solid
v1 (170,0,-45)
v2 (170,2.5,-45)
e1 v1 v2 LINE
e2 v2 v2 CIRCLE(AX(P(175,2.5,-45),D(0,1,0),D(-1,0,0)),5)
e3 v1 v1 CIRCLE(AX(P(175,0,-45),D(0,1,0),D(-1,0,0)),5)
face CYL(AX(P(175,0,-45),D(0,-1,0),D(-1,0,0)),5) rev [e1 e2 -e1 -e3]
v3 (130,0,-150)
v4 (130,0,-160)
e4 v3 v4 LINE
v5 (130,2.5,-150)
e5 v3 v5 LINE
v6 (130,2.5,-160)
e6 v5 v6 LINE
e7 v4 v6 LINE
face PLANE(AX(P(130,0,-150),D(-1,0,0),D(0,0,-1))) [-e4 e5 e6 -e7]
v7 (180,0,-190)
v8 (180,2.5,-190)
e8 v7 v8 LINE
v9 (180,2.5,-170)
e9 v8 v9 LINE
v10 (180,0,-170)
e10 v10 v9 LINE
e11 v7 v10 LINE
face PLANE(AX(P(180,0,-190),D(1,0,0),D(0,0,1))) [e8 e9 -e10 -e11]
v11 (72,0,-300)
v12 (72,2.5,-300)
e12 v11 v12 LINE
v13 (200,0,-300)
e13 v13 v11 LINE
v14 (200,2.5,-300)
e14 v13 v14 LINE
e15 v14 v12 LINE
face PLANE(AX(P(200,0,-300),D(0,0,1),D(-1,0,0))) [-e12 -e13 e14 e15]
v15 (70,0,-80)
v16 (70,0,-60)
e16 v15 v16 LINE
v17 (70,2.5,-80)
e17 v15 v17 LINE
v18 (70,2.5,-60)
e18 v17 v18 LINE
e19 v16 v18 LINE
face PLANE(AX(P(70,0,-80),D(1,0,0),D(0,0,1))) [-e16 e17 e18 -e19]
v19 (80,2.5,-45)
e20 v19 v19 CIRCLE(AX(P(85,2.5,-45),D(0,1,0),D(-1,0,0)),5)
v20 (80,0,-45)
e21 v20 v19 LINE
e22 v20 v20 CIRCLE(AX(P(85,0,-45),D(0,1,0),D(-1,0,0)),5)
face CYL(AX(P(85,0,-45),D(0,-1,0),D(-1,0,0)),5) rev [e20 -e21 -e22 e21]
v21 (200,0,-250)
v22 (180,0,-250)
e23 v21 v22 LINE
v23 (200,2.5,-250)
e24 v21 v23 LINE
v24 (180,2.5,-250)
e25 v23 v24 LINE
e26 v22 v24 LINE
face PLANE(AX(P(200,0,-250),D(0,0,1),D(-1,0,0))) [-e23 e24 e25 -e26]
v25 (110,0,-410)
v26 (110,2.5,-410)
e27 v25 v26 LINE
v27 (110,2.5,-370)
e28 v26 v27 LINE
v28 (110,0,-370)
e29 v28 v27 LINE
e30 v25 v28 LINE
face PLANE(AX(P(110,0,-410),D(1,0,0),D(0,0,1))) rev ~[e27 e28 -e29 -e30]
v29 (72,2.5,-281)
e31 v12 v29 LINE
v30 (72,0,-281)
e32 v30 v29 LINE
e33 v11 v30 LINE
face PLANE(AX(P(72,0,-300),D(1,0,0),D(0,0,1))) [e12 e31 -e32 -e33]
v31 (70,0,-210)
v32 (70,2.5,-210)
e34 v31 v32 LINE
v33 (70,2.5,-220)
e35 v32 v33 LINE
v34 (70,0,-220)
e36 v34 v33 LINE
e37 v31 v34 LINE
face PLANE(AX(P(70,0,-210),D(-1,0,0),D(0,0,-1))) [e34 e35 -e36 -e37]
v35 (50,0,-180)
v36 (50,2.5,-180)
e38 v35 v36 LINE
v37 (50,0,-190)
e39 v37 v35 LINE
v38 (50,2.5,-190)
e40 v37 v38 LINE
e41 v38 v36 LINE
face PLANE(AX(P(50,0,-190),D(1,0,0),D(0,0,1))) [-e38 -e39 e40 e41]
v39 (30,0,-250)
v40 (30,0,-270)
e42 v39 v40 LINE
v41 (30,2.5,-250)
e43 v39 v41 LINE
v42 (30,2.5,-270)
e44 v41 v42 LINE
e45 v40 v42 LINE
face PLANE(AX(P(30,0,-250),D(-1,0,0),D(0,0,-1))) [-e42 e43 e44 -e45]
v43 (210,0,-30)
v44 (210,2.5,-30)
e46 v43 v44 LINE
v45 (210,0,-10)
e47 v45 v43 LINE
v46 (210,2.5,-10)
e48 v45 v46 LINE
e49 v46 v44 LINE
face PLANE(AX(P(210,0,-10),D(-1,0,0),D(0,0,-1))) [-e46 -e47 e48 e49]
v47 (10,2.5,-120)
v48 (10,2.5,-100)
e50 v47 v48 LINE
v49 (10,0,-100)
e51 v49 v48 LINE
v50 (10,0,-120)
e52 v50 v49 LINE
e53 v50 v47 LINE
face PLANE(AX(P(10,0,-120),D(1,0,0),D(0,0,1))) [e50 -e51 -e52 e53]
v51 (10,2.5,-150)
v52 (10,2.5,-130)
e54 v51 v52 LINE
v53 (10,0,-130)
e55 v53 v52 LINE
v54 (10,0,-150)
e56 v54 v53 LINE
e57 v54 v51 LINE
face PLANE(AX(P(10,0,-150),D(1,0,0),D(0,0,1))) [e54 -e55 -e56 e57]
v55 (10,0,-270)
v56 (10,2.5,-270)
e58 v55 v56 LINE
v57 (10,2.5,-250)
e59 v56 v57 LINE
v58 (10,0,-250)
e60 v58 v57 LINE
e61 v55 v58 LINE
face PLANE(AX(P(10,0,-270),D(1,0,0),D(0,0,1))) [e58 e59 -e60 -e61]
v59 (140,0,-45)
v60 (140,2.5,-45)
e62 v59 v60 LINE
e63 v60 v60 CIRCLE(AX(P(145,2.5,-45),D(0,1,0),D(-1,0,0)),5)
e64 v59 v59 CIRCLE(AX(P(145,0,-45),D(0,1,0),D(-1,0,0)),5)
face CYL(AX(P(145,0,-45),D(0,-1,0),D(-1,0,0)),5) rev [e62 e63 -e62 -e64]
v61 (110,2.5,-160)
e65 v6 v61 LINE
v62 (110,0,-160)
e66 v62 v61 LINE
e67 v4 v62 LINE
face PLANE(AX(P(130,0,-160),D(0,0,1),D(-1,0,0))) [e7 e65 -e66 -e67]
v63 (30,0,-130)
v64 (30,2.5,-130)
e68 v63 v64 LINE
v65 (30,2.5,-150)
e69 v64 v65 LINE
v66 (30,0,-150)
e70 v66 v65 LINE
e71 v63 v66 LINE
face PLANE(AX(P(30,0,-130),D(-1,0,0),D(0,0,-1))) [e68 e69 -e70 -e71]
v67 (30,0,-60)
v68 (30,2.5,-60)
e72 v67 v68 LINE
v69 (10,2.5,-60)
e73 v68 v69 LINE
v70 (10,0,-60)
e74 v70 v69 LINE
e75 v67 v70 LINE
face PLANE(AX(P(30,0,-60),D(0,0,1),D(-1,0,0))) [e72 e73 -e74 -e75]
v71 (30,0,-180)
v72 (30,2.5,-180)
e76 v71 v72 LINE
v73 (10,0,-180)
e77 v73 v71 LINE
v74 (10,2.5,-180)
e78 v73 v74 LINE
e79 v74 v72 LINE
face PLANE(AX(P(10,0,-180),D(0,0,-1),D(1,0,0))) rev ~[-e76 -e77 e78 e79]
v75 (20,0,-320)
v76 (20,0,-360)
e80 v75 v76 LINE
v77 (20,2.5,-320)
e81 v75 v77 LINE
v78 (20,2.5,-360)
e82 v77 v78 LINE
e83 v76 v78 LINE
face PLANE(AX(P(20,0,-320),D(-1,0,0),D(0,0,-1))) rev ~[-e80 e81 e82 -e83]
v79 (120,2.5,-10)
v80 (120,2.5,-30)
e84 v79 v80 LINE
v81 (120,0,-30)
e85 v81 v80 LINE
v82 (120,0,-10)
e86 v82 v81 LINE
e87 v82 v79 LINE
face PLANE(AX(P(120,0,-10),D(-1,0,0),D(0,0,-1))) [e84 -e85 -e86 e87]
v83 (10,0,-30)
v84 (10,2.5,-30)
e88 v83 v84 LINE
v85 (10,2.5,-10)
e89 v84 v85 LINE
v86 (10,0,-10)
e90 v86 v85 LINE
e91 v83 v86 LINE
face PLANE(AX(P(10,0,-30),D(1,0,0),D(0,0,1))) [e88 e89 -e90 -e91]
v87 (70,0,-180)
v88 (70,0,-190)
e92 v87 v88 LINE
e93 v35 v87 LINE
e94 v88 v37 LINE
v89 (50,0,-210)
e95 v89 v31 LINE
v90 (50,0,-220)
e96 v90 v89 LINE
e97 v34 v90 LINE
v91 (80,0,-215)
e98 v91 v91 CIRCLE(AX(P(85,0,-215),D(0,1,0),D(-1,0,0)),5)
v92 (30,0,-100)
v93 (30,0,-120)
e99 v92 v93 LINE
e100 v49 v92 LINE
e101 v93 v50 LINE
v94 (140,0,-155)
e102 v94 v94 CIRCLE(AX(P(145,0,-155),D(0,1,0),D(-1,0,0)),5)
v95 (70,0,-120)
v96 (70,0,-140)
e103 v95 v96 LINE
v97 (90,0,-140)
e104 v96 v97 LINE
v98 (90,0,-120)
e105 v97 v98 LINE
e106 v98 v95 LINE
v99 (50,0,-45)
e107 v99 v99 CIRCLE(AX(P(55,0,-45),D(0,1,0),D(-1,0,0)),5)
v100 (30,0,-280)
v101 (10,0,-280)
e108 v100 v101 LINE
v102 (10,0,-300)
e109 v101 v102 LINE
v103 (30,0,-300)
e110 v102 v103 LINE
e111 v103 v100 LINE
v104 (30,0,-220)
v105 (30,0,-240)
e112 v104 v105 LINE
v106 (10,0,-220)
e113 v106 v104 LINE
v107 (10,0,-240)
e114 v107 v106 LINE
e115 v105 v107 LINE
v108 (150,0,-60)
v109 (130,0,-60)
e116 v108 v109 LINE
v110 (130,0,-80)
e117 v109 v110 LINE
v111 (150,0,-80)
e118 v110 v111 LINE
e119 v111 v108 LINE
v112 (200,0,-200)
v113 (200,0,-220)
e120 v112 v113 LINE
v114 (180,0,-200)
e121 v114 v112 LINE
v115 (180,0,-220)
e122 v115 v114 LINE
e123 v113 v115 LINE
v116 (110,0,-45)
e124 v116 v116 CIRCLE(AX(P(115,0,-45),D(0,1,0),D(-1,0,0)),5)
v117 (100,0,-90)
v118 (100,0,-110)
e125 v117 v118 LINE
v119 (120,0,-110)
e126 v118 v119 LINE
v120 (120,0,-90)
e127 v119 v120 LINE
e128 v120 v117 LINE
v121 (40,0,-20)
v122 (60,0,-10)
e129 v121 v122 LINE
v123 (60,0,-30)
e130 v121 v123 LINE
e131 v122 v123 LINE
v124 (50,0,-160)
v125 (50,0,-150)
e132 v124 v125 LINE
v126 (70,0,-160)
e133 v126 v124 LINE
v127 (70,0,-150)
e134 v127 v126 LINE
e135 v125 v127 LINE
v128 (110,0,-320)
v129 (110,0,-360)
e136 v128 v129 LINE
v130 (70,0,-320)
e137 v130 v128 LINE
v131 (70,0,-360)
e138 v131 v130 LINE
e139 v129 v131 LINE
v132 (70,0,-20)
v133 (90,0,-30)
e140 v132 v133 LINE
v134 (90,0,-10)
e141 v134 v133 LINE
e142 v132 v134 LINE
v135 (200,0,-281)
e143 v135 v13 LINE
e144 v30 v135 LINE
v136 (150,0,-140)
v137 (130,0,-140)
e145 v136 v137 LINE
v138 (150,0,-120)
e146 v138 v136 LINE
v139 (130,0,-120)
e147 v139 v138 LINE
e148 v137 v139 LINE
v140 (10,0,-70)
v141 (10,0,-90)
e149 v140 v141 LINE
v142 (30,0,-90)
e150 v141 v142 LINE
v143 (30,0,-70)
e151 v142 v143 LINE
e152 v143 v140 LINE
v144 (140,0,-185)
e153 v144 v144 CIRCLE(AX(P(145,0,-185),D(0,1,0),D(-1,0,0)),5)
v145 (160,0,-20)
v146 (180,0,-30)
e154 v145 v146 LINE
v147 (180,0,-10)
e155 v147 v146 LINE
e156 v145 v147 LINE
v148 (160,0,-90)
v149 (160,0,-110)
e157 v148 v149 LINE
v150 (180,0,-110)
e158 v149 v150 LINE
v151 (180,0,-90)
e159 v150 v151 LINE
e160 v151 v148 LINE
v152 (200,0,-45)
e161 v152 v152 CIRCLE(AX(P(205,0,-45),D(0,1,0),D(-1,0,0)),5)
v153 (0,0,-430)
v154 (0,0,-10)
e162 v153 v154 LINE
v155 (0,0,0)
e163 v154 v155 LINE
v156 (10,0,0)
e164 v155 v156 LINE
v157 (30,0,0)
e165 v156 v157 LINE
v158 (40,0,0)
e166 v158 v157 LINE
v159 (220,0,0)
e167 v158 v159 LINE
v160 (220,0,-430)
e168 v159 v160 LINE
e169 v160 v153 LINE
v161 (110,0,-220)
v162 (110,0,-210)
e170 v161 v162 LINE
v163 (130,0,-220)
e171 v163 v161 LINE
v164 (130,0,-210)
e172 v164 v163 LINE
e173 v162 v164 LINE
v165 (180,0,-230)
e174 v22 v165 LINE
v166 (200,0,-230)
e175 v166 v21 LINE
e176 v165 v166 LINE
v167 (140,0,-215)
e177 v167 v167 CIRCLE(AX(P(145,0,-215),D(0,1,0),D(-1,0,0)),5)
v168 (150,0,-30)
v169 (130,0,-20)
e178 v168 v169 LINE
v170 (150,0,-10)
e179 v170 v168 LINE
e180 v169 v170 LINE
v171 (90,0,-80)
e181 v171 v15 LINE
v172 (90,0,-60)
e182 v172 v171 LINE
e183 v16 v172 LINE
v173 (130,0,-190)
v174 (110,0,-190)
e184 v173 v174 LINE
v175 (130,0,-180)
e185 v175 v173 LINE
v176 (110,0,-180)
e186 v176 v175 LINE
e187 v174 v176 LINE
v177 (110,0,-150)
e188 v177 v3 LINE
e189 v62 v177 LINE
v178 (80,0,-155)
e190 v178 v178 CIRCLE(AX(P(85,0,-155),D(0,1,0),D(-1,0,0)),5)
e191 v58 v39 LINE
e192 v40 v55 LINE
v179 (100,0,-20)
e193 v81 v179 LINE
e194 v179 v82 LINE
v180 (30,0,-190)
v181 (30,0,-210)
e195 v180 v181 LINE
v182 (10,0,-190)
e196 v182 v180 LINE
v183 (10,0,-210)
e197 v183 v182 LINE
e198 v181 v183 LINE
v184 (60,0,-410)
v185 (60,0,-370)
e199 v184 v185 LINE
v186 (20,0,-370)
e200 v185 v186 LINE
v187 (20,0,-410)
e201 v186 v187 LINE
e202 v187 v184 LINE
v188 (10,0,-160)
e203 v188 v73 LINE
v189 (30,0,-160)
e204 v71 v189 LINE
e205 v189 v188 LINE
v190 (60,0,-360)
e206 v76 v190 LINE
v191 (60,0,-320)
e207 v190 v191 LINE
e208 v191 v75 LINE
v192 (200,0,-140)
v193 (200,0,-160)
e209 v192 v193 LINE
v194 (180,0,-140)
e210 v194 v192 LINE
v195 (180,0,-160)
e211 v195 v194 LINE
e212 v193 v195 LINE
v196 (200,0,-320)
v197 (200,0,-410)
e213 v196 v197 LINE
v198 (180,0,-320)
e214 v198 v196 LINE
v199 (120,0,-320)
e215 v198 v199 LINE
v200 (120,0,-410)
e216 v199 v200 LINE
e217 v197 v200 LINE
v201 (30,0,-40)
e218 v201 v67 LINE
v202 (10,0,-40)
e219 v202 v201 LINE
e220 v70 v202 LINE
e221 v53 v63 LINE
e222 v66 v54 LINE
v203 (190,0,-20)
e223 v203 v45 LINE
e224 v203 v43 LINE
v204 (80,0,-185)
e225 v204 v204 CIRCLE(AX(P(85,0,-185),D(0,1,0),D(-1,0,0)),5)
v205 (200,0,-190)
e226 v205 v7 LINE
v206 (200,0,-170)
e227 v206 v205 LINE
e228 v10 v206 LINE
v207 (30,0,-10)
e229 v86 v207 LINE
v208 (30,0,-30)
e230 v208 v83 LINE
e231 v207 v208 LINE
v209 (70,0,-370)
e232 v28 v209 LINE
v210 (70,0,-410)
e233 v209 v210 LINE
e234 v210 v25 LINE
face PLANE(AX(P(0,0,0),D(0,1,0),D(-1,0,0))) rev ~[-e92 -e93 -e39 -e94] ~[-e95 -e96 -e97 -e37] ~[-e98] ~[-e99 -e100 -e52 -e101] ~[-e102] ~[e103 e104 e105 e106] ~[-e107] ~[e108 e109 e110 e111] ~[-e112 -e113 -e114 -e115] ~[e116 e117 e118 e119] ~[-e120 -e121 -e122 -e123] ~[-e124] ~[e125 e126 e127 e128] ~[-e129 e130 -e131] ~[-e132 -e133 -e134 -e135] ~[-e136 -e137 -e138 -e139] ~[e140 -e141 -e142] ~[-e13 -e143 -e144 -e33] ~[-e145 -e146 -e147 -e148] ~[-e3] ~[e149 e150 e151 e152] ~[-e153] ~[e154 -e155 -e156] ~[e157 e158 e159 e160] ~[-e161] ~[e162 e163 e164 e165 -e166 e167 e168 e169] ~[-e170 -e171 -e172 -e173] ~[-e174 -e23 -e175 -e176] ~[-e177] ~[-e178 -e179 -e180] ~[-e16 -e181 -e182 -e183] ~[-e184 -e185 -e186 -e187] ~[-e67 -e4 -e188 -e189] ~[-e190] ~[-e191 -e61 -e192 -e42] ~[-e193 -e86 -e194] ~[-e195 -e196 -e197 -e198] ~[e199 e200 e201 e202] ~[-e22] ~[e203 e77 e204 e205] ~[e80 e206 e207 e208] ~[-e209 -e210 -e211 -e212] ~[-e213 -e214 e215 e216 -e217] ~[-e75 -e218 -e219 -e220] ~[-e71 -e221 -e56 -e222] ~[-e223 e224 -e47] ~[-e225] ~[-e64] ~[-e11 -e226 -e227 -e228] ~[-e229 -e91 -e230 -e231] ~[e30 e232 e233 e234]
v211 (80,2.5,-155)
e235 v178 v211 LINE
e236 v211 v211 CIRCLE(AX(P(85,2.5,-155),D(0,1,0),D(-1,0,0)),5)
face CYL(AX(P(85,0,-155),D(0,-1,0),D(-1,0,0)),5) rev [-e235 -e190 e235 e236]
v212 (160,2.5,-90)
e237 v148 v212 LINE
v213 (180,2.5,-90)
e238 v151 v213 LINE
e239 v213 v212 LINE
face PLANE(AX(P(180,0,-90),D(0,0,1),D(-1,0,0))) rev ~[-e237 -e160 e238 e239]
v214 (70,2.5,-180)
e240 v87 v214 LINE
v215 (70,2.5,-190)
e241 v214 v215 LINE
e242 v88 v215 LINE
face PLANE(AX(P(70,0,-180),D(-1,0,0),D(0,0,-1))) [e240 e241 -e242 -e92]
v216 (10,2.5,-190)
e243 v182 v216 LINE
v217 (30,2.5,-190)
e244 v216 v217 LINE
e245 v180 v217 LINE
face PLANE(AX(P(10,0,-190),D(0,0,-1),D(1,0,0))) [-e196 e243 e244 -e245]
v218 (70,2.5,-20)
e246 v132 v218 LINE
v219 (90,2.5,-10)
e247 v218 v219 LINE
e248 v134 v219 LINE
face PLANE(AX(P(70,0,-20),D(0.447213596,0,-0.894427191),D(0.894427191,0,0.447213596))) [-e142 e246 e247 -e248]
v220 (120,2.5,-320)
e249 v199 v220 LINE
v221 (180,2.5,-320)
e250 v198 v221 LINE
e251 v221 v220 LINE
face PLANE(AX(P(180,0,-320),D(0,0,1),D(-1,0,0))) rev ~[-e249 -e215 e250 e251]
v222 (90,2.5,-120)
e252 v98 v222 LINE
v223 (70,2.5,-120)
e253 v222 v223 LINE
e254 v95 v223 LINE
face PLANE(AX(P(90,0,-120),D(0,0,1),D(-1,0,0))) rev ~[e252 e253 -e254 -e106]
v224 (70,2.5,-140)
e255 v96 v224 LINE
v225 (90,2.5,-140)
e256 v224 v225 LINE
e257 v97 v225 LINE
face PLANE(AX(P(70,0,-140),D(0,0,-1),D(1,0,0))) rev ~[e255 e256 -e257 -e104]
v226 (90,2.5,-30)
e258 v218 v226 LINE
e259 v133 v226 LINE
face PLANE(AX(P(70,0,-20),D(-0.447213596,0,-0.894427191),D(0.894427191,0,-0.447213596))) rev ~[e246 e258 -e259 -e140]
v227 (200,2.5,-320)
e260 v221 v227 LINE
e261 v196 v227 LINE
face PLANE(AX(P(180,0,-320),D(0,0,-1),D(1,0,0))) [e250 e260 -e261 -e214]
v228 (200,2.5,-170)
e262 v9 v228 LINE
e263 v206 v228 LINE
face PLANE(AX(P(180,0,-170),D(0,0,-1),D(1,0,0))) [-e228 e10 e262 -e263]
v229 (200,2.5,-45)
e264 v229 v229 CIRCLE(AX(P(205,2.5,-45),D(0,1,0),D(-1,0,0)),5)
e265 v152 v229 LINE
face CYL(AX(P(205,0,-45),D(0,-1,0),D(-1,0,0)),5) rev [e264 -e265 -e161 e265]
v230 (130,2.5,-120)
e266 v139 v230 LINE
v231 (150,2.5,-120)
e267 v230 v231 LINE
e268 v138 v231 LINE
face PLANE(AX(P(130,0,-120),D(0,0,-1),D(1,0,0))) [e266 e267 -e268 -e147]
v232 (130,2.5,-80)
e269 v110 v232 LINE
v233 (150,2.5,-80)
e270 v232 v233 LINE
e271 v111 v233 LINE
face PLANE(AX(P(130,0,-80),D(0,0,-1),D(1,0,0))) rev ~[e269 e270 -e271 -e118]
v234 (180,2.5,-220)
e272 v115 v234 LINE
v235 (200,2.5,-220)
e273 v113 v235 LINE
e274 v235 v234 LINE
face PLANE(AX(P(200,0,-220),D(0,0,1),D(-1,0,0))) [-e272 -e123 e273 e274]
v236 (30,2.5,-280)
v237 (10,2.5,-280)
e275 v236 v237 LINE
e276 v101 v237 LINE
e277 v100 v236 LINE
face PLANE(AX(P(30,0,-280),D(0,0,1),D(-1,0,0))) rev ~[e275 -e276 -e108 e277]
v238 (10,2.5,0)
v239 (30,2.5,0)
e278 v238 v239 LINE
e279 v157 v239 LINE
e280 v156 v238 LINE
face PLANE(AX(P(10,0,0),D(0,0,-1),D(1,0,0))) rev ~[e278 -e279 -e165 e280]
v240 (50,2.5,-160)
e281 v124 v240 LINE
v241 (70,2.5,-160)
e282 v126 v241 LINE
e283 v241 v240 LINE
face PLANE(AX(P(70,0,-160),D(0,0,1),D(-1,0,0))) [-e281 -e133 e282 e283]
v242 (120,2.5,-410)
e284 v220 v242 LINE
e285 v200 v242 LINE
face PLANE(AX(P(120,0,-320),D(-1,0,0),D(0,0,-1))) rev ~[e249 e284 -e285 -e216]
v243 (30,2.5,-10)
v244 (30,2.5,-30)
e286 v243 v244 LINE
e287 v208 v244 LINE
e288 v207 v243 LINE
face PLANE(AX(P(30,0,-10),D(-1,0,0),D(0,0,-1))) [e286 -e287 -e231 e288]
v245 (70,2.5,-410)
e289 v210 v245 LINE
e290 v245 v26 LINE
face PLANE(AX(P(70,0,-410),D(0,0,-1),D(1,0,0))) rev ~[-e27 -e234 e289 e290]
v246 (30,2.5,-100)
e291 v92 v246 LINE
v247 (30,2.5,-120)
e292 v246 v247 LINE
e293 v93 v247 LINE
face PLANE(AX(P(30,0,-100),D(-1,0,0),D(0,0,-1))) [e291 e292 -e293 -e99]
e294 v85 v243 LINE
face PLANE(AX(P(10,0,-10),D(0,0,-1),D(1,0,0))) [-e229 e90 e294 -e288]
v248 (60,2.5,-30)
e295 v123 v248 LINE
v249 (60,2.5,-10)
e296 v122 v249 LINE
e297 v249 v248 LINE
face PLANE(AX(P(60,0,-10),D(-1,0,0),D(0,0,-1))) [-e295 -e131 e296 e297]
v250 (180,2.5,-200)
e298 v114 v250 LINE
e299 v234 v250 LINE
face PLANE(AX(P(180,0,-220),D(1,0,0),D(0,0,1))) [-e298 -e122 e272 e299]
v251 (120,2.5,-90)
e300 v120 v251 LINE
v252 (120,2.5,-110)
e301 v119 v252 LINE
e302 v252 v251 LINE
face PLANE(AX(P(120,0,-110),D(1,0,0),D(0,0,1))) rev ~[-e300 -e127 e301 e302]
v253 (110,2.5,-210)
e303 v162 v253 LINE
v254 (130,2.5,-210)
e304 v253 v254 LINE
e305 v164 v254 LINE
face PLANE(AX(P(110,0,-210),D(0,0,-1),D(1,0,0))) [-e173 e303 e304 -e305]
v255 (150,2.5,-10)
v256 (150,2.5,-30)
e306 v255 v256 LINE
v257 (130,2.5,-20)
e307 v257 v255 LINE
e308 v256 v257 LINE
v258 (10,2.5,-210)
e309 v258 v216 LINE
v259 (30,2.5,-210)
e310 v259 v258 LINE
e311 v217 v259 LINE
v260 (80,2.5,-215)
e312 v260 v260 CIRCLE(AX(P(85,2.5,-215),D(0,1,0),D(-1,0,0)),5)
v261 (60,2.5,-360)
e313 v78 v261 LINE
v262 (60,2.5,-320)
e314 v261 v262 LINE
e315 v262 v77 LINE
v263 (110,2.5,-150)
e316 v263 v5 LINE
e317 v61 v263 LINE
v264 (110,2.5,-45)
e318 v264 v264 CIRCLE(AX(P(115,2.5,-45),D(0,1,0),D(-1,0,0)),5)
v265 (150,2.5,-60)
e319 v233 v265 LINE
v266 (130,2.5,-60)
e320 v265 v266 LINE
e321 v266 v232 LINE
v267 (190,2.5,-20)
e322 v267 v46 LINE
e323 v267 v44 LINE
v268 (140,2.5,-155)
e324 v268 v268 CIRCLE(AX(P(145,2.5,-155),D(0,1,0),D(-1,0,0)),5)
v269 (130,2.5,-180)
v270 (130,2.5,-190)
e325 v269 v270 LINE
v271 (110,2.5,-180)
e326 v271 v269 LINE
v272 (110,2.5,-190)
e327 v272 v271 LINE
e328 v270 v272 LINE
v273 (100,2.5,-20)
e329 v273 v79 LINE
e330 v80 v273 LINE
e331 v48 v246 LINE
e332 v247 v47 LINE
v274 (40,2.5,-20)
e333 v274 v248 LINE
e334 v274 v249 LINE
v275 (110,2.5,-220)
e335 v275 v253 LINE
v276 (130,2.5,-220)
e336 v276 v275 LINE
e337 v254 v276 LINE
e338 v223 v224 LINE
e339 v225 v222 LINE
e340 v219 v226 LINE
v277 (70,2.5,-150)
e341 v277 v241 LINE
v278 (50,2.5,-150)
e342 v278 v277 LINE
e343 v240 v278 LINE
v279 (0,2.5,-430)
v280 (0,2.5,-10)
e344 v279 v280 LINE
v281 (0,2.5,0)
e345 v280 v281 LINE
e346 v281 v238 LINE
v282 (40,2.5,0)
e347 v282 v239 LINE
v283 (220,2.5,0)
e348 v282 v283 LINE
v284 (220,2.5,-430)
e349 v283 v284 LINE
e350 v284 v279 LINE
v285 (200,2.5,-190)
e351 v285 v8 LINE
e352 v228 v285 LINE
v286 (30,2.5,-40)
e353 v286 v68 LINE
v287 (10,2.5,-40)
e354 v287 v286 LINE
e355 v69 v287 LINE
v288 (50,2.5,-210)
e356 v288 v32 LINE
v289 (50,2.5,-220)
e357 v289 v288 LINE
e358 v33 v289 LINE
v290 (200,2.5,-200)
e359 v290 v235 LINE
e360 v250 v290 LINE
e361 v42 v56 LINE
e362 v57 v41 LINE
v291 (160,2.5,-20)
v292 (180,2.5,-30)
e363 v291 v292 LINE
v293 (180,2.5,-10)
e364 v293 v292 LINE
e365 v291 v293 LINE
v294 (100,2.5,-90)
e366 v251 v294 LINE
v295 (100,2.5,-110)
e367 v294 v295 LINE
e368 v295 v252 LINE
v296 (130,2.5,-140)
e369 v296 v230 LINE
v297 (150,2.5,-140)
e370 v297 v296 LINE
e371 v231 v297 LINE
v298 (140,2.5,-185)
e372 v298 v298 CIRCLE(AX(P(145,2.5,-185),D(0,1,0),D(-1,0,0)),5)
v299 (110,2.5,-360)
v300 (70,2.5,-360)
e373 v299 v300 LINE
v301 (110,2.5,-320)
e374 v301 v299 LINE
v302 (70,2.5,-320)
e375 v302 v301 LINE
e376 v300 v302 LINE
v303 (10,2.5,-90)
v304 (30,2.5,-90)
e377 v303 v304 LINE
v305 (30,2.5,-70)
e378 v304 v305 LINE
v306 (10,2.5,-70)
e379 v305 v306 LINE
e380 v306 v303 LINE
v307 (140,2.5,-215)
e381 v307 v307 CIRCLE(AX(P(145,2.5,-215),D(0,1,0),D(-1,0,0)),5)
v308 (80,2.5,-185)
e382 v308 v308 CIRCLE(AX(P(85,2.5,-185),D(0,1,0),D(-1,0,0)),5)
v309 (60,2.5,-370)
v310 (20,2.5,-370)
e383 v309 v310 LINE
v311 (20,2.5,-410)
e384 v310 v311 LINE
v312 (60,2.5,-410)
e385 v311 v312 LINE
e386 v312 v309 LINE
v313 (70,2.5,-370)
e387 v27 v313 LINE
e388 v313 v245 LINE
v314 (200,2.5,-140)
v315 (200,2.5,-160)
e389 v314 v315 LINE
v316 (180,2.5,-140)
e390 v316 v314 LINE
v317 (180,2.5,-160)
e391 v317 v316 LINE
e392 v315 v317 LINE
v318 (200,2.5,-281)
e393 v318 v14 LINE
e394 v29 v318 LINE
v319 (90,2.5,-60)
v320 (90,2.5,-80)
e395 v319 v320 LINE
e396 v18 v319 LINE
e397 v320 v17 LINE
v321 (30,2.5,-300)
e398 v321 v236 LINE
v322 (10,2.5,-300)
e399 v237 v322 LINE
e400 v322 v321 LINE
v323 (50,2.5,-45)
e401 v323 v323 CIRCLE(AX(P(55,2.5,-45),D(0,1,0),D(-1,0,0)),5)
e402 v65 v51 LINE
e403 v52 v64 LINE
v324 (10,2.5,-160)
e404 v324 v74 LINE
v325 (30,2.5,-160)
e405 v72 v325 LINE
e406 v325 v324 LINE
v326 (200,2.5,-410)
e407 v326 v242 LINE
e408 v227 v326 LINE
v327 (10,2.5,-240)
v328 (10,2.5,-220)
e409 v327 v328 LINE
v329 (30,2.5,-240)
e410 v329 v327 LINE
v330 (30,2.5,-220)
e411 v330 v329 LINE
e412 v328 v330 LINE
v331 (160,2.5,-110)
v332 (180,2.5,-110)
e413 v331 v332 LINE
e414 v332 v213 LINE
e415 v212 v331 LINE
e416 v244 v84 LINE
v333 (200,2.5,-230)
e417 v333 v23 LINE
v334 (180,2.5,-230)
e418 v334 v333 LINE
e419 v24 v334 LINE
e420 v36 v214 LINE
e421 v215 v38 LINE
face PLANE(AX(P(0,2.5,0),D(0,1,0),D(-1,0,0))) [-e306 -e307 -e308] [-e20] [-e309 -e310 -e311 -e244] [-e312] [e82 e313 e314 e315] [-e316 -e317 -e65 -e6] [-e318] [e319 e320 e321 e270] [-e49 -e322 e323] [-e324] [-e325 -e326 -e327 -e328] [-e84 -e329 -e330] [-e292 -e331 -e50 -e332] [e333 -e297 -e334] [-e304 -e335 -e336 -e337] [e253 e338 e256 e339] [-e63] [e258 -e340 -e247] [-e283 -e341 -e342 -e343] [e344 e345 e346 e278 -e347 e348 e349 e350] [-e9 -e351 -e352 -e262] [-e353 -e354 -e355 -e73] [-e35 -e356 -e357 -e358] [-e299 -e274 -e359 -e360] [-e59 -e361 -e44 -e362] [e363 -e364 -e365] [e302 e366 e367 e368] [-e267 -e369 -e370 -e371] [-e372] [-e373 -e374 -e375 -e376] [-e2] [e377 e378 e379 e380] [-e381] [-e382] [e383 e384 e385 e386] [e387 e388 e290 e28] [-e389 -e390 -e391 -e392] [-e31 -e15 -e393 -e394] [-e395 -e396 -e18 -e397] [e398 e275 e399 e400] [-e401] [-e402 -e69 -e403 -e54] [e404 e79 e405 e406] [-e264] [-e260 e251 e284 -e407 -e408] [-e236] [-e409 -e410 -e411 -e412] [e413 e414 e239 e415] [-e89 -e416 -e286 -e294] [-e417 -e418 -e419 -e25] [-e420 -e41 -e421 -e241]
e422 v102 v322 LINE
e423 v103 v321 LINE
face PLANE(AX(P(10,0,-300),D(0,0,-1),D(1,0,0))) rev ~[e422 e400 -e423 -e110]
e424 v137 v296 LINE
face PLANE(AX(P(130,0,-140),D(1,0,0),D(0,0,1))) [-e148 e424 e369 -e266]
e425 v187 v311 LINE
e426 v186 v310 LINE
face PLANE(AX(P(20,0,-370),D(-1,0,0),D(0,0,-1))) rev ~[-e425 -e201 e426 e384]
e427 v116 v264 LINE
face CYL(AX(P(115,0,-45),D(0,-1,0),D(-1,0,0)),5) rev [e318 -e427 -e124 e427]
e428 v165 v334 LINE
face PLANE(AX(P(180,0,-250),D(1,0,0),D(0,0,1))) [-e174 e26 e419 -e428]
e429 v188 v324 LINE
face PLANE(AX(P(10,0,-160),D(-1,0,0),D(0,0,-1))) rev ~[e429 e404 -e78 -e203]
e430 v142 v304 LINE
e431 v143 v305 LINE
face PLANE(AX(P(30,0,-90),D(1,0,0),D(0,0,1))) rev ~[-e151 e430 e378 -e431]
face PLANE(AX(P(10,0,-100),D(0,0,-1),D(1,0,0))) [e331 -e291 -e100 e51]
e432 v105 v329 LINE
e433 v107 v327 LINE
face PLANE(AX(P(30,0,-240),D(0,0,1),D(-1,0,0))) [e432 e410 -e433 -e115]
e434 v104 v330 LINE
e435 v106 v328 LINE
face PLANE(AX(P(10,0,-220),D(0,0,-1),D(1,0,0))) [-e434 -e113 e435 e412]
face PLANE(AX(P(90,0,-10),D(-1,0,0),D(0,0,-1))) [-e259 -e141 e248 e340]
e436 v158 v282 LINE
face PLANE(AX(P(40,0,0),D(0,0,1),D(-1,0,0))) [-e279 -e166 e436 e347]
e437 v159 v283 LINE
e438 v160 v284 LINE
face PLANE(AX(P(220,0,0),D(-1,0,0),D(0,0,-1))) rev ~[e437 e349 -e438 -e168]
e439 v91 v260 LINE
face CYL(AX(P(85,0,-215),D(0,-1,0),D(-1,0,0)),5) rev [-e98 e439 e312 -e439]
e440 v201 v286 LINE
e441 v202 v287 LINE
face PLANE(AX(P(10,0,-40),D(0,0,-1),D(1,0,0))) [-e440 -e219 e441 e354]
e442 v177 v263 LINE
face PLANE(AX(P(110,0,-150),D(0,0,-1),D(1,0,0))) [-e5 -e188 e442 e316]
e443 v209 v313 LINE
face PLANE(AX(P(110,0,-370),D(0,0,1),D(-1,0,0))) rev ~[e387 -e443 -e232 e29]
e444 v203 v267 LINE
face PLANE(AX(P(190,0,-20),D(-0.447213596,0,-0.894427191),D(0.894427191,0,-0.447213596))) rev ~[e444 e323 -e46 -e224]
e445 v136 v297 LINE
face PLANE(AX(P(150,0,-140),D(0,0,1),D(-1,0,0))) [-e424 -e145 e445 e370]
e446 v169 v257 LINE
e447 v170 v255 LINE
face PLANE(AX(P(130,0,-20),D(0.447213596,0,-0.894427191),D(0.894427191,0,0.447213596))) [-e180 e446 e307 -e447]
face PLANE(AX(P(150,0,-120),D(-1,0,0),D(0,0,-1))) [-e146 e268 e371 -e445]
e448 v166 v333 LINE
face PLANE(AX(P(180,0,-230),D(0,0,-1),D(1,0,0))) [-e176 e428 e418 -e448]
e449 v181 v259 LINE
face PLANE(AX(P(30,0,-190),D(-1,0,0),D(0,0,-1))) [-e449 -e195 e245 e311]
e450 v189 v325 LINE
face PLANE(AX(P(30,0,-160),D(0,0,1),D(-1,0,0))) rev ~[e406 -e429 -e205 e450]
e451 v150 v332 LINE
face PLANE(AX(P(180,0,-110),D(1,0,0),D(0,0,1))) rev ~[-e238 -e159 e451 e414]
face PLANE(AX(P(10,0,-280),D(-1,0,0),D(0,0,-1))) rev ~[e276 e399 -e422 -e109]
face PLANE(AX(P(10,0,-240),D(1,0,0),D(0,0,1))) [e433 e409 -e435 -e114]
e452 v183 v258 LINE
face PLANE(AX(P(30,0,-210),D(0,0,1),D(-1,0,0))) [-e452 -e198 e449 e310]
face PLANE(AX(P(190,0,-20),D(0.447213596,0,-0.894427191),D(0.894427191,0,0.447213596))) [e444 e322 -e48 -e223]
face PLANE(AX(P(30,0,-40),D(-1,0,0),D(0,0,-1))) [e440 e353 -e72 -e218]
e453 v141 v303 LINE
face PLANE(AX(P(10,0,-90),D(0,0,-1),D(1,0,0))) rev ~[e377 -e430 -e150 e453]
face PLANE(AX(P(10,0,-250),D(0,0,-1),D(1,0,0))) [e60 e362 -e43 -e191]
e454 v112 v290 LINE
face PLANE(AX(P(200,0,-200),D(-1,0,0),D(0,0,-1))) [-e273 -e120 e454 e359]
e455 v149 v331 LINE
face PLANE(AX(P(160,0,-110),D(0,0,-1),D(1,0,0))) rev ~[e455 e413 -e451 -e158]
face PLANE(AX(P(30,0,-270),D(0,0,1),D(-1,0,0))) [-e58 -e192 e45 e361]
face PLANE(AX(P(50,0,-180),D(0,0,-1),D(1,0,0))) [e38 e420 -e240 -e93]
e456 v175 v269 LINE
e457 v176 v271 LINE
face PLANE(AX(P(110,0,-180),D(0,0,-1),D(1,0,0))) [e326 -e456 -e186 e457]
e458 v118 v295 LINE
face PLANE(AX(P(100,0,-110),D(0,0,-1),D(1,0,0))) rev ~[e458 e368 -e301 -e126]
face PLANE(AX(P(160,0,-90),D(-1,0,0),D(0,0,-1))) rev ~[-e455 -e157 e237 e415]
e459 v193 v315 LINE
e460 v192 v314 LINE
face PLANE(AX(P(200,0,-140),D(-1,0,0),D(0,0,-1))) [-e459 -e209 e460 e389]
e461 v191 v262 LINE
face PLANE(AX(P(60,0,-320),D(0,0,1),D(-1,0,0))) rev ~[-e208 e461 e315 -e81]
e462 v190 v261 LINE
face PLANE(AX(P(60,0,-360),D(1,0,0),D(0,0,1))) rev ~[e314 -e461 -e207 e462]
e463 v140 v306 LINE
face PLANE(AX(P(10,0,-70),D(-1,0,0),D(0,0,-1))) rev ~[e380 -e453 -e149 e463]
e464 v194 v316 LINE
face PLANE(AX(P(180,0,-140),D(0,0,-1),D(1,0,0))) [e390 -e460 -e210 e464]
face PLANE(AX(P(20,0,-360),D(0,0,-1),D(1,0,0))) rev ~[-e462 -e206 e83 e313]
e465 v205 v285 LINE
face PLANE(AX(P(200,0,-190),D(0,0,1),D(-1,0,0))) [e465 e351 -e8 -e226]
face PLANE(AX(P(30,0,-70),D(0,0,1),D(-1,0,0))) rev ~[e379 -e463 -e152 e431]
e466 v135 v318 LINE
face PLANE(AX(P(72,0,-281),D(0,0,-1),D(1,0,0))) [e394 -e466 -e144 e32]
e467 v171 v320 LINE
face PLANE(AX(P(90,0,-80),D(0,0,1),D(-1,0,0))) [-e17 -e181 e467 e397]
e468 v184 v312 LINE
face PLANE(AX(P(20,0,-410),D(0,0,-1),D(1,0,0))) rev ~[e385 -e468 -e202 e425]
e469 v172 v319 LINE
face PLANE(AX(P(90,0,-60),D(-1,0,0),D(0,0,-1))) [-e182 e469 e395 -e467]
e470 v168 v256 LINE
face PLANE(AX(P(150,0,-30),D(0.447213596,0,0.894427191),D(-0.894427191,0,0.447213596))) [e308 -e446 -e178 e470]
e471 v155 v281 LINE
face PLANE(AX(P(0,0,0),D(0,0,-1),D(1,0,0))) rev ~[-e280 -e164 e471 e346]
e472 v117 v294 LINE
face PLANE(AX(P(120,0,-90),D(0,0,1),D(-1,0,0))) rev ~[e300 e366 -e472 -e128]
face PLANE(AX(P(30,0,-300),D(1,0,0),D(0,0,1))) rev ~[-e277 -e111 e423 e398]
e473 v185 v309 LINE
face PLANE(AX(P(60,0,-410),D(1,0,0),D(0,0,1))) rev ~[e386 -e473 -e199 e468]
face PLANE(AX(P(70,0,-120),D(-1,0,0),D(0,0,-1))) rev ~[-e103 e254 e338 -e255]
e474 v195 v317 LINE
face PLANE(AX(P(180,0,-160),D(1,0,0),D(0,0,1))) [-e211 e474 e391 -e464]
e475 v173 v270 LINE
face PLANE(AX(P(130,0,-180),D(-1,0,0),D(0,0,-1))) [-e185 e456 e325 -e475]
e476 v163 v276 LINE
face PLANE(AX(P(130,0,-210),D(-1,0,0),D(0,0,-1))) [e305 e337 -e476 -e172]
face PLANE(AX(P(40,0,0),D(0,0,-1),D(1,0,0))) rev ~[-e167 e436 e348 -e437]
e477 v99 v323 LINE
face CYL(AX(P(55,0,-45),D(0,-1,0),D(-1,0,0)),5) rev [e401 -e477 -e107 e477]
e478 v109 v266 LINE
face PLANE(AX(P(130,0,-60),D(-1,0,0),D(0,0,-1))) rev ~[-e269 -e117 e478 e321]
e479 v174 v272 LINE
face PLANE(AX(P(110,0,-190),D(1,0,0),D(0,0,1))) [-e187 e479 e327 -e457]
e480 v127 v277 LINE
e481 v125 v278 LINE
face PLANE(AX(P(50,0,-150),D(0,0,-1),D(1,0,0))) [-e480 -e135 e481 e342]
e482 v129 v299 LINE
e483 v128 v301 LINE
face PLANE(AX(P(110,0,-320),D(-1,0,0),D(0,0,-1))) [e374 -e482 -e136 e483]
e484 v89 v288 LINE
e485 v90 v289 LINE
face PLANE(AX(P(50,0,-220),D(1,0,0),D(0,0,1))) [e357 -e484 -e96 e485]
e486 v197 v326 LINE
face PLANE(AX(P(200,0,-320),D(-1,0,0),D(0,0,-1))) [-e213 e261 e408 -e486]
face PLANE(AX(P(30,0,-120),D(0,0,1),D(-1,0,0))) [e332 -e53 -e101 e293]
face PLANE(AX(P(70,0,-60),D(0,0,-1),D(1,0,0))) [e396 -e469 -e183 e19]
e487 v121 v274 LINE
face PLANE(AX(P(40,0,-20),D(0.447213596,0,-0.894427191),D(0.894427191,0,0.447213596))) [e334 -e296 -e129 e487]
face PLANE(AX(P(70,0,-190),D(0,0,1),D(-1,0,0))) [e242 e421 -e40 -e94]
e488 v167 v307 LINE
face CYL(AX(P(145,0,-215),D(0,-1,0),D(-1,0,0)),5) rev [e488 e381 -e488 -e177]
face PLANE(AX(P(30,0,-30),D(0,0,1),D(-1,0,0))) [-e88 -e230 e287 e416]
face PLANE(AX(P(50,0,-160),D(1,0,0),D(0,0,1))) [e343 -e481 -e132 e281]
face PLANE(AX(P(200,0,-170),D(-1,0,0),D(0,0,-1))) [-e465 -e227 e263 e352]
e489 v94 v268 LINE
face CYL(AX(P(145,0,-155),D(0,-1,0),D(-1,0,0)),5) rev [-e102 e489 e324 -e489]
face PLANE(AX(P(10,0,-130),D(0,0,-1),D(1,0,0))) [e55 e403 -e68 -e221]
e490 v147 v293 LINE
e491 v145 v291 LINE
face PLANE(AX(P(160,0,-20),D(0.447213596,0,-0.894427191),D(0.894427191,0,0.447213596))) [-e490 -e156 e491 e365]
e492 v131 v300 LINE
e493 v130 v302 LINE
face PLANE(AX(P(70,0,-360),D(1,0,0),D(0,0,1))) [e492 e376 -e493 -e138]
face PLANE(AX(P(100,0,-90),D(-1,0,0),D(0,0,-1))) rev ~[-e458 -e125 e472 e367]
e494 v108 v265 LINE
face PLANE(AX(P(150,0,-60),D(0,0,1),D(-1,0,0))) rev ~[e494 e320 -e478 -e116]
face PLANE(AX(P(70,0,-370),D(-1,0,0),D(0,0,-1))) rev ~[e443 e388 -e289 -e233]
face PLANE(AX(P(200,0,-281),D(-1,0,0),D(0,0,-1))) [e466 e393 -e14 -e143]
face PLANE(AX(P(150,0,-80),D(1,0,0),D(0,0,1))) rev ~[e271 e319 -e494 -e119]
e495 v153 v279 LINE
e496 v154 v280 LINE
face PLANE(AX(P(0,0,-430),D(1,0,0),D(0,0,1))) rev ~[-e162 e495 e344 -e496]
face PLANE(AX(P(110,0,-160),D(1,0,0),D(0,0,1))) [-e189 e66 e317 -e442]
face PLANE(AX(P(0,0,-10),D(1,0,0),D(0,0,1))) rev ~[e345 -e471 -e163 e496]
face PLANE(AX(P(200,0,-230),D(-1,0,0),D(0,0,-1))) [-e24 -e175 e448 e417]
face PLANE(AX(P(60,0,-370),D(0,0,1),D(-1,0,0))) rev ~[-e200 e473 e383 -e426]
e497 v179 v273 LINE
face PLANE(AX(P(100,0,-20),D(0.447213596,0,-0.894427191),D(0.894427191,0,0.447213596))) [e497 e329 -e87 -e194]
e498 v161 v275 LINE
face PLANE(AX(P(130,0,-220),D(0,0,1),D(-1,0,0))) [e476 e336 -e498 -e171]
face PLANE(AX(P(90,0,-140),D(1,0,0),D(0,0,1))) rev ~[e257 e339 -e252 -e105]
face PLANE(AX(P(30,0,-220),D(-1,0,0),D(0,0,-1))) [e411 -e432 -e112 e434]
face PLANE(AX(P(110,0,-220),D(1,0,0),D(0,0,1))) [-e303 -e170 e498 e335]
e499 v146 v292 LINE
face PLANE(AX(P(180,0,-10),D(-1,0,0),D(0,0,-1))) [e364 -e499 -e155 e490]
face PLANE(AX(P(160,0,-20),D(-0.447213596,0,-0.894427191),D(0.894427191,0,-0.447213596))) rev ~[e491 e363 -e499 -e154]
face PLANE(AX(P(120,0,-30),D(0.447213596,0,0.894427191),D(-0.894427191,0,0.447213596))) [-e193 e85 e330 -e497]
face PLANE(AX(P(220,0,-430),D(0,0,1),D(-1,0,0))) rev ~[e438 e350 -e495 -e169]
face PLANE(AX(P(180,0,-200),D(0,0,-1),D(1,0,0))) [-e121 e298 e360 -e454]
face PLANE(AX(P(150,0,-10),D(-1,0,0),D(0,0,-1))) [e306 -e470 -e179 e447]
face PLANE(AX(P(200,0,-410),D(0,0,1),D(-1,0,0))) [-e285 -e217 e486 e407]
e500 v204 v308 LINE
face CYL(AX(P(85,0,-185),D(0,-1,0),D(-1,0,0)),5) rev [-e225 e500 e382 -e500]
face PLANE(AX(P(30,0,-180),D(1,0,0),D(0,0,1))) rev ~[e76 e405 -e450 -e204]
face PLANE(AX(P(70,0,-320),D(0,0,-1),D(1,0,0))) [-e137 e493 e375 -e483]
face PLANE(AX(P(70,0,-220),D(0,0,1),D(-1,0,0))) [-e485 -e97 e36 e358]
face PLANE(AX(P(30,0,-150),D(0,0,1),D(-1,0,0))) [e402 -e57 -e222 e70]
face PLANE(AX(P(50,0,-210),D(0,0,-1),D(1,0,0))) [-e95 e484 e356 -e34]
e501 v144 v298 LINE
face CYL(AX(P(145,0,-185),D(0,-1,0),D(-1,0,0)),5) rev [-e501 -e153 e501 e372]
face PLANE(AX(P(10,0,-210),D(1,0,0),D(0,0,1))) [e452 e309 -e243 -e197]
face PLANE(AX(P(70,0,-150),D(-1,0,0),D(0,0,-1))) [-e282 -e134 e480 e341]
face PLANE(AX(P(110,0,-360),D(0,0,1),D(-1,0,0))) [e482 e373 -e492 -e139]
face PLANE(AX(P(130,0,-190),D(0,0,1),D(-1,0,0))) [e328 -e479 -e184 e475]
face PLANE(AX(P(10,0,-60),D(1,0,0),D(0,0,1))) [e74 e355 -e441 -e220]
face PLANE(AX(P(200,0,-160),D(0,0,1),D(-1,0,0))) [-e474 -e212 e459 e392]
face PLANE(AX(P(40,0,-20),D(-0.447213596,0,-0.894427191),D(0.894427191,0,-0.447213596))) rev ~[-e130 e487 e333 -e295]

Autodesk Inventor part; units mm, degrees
ref_plane "YZ Plane" through (0, 0, 0) normal (1, 0, 0) x (0, 1, 0)
ref_plane "XZ Plane" through (0, 0, 0) normal (0, 1, 0) x (-1, 0, 0)
ref_plane "XY Plane" through (0, 0, 0) normal (0, 0, 1) x (1, 0, 0)
sketch "Sketch1" plane through (0, 0, 0) normal (0, 1, 0) x (-1, 0, 0)
  line L0 (0, 0) -> (-220, 0)
  line L1 (-220, 0) -> (-220, -430)
  line L2 (-220, -430) -> (0, -430)
  line L3 (0, -430) -> (0, 0)
  line L4 (0, 0) -> (-10, 0)
  line L5 (0, -10) -> (0, 0)
  line L6 (-40, 0) -> (-30, 0)
  line L7 (-10, -10) -> (-30, -10)
  line L8 (-30, -10) -> (-30, -30)
  line L9 (-30, -30) -> (-10, -30)
  line L10 (-10, -30) -> (-10, -10)
  line L11 (-60, -10) -> (-60, -30)
  line L12 (-90, -10) -> (-90, -30)
  line L13 (-120, -10) -> (-120, -30)
  line L14 (-150, -10) -> (-150, -30)
  line L15 (-180, -10) -> (-180, -30)
  line L16 (-210, -10) -> (-210, -30)
  line L17 (-10, -40) -> (-30, -40)
  line L18 (-30, -40) -> (-30, -60)
  line L19 (-30, -60) -> (-10, -60)
  line L20 (-10, -60) -> (-10, -40)
  line L21 (-30, -70) -> (-10, -70)
  line L22 (-10, -70) -> (-10, -90)
  line L23 (-10, -90) -> (-30, -90)
  line L24 (-30, -90) -> (-30, -70)
  line L25 (-10, -100) -> (-30, -100)
  line L26 (-30, -100) -> (-30, -120)
  line L27 (-30, -120) -> (-10, -120)
  line L28 (-10, -120) -> (-10, -100)
  line L29 (-10, -130) -> (-30, -130)
  line L30 (-30, -130) -> (-30, -150)
  line L31 (-30, -150) -> (-10, -150)
  line L32 (-10, -150) -> (-10, -130)
  line L33 (-30, -160) -> (-10, -160)
  line L34 (-10, -160) -> (-10, -180)
  line L35 (-10, -180) -> (-30, -180)
  line L36 (-30, -180) -> (-30, -160)
  line L37 (-10, -190) -> (-30, -190)
  line L38 (-30, -190) -> (-30, -210)
  line L39 (-30, -210) -> (-10, -210)
  line L40 (-10, -210) -> (-10, -190)
  line L41 (-10, -220) -> (-30, -220)
  line L42 (-30, -220) -> (-30, -240)
  line L43 (-30, -240) -> (-10, -240)
  line L44 (-10, -240) -> (-10, -220)
  line L45 (-10, -250) -> (-30, -250)
  line L46 (-30, -250) -> (-30, -270)
  line L47 (-30, -270) -> (-10, -270)
  line L48 (-10, -270) -> (-10, -250)
  line L49 (-30, -280) -> (-10, -280)
  line L50 (-10, -280) -> (-10, -300)
  line L51 (-10, -300) -> (-30, -300)
  line L52 (-30, -300) -> (-30, -280)
  line L53 (-20, -410) -> (-60, -410)
  line L54 (-60, -410) -> (-60, -370)
  line L55 (-60, -370) -> (-20, -370)
  line L56 (-20, -370) -> (-20, -410)
  line L57 (-20, -360) -> (-60, -360)
  line L58 (-60, -360) -> (-60, -320)
  line L59 (-60, -320) -> (-20, -320)
  line L60 (-20, -320) -> (-20, -360)
  line L61 (-180, -320) -> (-120, -320)
  line L62 (-120, -320) -> (-120, -410)
  line L63 (-70, -320) -> (-110, -320)
  line L64 (-110, -320) -> (-110, -360)
  line L65 (-110, -360) -> (-70, -360)
  line L66 (-70, -360) -> (-70, -320)
  line L67 (-110, -370) -> (-70, -370)
  line L68 (-70, -370) -> (-70, -410)
  line L69 (-70, -410) -> (-110, -410)
  line L70 (-110, -410) -> (-110, -370)
  line L71 (-120, -320) -> (-200, -320)
  line L72 (-200, -320) -> (-200, -410)
  line L73 (-200, -410) -> (-120, -410)
  line L74 (-120, -410) -> (-120, -320)
  line L75 (-40, -20) -> (-60, -30)
  line L76 (-40, -20) -> (-60, -10)
  line L77 (-70, -20) -> (-90, -10)
  line L78 (-70, -20) -> (-90, -30)
  line L79 (-100, -20) -> (-120, -10)
  line L80 (-120, -30) -> (-100, -20)
  line L81 (-130, -20) -> (-150, -10)
  line L82 (-150, -30) -> (-130, -20)
  line L83 (-160, -20) -> (-180, -30)
  line L84 (-160, -20) -> (-180, -10)
  line L85 (-190, -20) -> (-210, -10)
  line L86 (-190, -20) -> (-210, -30)
  line L87 (-200, -300) -> (-72, -300)
  line L88 (-72, -300) -> (-72, -281)
  line L89 (-72, -281) -> (-200, -281)
  line L90 (-200, -281) -> (-200, -300)
  line L91 (-150, -60) -> (-130, -60)
  line L92 (-130, -60) -> (-130, -80)
  line L93 (-130, -80) -> (-150, -80)
  line L94 (-150, -80) -> (-150, -60)
  line L95 (-120, -90) -> (-100, -90)
  line L96 (-100, -90) -> (-100, -110)
  line L97 (-100, -110) -> (-120, -110)
  line L98 (-120, -110) -> (-120, -90)
  line L99 (-130, -120) -> (-150, -120)
  line L100 (-150, -120) -> (-150, -140)
  line L101 (-150, -140) -> (-130, -140)
  line L102 (-130, -140) -> (-130, -120)
  line L103 (-160, -110) -> (-180, -110)
  line L104 (-180, -110) -> (-180, -90)
  line L105 (-180, -90) -> (-160, -90)
  line L106 (-160, -90) -> (-160, -110)
  line L107 (-90, -80) -> (-70, -80)
  line L108 (-70, -80) -> (-70, -60)
  line L109 (-70, -60) -> (-90, -60)
  line L110 (-90, -60) -> (-90, -80)
  line L111 (-90, -120) -> (-70, -120)
  line L112 (-70, -120) -> (-70, -140)
  line L113 (-70, -140) -> (-90, -140)
  line L114 (-90, -140) -> (-90, -120)
  line L115 (-180, -140) -> (-200, -140)
  line L116 (-200, -140) -> (-200, -160)
  line L117 (-200, -160) -> (-180, -160)
  line L118 (-180, -160) -> (-180, -140)
  line L119 (-180, -170) -> (-200, -170)
  line L120 (-200, -170) -> (-200, -190)
  line L121 (-200, -190) -> (-180, -190)
  line L122 (-180, -190) -> (-180, -170)
  line L123 (-180, -200) -> (-200, -200)
  line L124 (-200, -200) -> (-200, -220)
  line L125 (-200, -220) -> (-180, -220)
  line L126 (-180, -220) -> (-180, -200)
  line L127 (-180, -230) -> (-200, -230)
  line L128 (-200, -230) -> (-200, -250)
  line L129 (-200, -250) -> (-180, -250)
  line L130 (-180, -250) -> (-180, -230)
  line L131 (-130, -160) -> (-110, -160)
  line L132 (-110, -160) -> (-110, -150)
  line L133 (-110, -150) -> (-130, -150)
  line L134 (-130, -150) -> (-130, -160)
  line L135 (-130, -190) -> (-110, -190)
  line L136 (-110, -190) -> (-110, -180)
  line L137 (-110, -180) -> (-130, -180)
  line L138 (-130, -180) -> (-130, -190)
  line L139 (-130, -220) -> (-110, -220)
  line L140 (-110, -220) -> (-110, -210)
  line L141 (-110, -210) -> (-130, -210)
  line L142 (-130, -210) -> (-130, -220)
  line L143 (-70, -160) -> (-50, -160)
  line L144 (-50, -160) -> (-50, -150)
  line L145 (-50, -150) -> (-70, -150)
  line L146 (-70, -150) -> (-70, -160)
  line L147 (-70, -190) -> (-50, -190)
  line L148 (-50, -190) -> (-50, -180)
  line L149 (-50, -180) -> (-70, -180)
  line L150 (-70, -180) -> (-70, -190)
  line L151 (-70, -220) -> (-50, -220)
  line L152 (-50, -220) -> (-50, -210)
  line L153 (-50, -210) -> (-70, -210)
  line L154 (-70, -210) -> (-70, -220)
  circle A0 centre (-55, -45) radius 5
  circle A1 centre (-85, -45) radius 5
  circle A2 centre (-115, -45) radius 5
  circle A3 centre (-145, -45) radius 5
  circle A4 centre (-175, -45) radius 5
  circle A5 centre (-205, -45) radius 5
  circle A6 centre (-145, -155) radius 5
  circle A7 centre (-145, -185) radius 5
  circle A8 centre (-145, -215) radius 5
  circle A9 centre (-85, -215) radius 5
  circle A10 centre (-85, -185) radius 5
  circle A11 centre (-85, -155) radius 5
  dimension "d0" = 220
  dimension "d1" = 430
  dimension "d28" = 128
extrude "Extrusion1" add sketch "Sketch1" along normal blind 2.5
properties part number "Plexi"
